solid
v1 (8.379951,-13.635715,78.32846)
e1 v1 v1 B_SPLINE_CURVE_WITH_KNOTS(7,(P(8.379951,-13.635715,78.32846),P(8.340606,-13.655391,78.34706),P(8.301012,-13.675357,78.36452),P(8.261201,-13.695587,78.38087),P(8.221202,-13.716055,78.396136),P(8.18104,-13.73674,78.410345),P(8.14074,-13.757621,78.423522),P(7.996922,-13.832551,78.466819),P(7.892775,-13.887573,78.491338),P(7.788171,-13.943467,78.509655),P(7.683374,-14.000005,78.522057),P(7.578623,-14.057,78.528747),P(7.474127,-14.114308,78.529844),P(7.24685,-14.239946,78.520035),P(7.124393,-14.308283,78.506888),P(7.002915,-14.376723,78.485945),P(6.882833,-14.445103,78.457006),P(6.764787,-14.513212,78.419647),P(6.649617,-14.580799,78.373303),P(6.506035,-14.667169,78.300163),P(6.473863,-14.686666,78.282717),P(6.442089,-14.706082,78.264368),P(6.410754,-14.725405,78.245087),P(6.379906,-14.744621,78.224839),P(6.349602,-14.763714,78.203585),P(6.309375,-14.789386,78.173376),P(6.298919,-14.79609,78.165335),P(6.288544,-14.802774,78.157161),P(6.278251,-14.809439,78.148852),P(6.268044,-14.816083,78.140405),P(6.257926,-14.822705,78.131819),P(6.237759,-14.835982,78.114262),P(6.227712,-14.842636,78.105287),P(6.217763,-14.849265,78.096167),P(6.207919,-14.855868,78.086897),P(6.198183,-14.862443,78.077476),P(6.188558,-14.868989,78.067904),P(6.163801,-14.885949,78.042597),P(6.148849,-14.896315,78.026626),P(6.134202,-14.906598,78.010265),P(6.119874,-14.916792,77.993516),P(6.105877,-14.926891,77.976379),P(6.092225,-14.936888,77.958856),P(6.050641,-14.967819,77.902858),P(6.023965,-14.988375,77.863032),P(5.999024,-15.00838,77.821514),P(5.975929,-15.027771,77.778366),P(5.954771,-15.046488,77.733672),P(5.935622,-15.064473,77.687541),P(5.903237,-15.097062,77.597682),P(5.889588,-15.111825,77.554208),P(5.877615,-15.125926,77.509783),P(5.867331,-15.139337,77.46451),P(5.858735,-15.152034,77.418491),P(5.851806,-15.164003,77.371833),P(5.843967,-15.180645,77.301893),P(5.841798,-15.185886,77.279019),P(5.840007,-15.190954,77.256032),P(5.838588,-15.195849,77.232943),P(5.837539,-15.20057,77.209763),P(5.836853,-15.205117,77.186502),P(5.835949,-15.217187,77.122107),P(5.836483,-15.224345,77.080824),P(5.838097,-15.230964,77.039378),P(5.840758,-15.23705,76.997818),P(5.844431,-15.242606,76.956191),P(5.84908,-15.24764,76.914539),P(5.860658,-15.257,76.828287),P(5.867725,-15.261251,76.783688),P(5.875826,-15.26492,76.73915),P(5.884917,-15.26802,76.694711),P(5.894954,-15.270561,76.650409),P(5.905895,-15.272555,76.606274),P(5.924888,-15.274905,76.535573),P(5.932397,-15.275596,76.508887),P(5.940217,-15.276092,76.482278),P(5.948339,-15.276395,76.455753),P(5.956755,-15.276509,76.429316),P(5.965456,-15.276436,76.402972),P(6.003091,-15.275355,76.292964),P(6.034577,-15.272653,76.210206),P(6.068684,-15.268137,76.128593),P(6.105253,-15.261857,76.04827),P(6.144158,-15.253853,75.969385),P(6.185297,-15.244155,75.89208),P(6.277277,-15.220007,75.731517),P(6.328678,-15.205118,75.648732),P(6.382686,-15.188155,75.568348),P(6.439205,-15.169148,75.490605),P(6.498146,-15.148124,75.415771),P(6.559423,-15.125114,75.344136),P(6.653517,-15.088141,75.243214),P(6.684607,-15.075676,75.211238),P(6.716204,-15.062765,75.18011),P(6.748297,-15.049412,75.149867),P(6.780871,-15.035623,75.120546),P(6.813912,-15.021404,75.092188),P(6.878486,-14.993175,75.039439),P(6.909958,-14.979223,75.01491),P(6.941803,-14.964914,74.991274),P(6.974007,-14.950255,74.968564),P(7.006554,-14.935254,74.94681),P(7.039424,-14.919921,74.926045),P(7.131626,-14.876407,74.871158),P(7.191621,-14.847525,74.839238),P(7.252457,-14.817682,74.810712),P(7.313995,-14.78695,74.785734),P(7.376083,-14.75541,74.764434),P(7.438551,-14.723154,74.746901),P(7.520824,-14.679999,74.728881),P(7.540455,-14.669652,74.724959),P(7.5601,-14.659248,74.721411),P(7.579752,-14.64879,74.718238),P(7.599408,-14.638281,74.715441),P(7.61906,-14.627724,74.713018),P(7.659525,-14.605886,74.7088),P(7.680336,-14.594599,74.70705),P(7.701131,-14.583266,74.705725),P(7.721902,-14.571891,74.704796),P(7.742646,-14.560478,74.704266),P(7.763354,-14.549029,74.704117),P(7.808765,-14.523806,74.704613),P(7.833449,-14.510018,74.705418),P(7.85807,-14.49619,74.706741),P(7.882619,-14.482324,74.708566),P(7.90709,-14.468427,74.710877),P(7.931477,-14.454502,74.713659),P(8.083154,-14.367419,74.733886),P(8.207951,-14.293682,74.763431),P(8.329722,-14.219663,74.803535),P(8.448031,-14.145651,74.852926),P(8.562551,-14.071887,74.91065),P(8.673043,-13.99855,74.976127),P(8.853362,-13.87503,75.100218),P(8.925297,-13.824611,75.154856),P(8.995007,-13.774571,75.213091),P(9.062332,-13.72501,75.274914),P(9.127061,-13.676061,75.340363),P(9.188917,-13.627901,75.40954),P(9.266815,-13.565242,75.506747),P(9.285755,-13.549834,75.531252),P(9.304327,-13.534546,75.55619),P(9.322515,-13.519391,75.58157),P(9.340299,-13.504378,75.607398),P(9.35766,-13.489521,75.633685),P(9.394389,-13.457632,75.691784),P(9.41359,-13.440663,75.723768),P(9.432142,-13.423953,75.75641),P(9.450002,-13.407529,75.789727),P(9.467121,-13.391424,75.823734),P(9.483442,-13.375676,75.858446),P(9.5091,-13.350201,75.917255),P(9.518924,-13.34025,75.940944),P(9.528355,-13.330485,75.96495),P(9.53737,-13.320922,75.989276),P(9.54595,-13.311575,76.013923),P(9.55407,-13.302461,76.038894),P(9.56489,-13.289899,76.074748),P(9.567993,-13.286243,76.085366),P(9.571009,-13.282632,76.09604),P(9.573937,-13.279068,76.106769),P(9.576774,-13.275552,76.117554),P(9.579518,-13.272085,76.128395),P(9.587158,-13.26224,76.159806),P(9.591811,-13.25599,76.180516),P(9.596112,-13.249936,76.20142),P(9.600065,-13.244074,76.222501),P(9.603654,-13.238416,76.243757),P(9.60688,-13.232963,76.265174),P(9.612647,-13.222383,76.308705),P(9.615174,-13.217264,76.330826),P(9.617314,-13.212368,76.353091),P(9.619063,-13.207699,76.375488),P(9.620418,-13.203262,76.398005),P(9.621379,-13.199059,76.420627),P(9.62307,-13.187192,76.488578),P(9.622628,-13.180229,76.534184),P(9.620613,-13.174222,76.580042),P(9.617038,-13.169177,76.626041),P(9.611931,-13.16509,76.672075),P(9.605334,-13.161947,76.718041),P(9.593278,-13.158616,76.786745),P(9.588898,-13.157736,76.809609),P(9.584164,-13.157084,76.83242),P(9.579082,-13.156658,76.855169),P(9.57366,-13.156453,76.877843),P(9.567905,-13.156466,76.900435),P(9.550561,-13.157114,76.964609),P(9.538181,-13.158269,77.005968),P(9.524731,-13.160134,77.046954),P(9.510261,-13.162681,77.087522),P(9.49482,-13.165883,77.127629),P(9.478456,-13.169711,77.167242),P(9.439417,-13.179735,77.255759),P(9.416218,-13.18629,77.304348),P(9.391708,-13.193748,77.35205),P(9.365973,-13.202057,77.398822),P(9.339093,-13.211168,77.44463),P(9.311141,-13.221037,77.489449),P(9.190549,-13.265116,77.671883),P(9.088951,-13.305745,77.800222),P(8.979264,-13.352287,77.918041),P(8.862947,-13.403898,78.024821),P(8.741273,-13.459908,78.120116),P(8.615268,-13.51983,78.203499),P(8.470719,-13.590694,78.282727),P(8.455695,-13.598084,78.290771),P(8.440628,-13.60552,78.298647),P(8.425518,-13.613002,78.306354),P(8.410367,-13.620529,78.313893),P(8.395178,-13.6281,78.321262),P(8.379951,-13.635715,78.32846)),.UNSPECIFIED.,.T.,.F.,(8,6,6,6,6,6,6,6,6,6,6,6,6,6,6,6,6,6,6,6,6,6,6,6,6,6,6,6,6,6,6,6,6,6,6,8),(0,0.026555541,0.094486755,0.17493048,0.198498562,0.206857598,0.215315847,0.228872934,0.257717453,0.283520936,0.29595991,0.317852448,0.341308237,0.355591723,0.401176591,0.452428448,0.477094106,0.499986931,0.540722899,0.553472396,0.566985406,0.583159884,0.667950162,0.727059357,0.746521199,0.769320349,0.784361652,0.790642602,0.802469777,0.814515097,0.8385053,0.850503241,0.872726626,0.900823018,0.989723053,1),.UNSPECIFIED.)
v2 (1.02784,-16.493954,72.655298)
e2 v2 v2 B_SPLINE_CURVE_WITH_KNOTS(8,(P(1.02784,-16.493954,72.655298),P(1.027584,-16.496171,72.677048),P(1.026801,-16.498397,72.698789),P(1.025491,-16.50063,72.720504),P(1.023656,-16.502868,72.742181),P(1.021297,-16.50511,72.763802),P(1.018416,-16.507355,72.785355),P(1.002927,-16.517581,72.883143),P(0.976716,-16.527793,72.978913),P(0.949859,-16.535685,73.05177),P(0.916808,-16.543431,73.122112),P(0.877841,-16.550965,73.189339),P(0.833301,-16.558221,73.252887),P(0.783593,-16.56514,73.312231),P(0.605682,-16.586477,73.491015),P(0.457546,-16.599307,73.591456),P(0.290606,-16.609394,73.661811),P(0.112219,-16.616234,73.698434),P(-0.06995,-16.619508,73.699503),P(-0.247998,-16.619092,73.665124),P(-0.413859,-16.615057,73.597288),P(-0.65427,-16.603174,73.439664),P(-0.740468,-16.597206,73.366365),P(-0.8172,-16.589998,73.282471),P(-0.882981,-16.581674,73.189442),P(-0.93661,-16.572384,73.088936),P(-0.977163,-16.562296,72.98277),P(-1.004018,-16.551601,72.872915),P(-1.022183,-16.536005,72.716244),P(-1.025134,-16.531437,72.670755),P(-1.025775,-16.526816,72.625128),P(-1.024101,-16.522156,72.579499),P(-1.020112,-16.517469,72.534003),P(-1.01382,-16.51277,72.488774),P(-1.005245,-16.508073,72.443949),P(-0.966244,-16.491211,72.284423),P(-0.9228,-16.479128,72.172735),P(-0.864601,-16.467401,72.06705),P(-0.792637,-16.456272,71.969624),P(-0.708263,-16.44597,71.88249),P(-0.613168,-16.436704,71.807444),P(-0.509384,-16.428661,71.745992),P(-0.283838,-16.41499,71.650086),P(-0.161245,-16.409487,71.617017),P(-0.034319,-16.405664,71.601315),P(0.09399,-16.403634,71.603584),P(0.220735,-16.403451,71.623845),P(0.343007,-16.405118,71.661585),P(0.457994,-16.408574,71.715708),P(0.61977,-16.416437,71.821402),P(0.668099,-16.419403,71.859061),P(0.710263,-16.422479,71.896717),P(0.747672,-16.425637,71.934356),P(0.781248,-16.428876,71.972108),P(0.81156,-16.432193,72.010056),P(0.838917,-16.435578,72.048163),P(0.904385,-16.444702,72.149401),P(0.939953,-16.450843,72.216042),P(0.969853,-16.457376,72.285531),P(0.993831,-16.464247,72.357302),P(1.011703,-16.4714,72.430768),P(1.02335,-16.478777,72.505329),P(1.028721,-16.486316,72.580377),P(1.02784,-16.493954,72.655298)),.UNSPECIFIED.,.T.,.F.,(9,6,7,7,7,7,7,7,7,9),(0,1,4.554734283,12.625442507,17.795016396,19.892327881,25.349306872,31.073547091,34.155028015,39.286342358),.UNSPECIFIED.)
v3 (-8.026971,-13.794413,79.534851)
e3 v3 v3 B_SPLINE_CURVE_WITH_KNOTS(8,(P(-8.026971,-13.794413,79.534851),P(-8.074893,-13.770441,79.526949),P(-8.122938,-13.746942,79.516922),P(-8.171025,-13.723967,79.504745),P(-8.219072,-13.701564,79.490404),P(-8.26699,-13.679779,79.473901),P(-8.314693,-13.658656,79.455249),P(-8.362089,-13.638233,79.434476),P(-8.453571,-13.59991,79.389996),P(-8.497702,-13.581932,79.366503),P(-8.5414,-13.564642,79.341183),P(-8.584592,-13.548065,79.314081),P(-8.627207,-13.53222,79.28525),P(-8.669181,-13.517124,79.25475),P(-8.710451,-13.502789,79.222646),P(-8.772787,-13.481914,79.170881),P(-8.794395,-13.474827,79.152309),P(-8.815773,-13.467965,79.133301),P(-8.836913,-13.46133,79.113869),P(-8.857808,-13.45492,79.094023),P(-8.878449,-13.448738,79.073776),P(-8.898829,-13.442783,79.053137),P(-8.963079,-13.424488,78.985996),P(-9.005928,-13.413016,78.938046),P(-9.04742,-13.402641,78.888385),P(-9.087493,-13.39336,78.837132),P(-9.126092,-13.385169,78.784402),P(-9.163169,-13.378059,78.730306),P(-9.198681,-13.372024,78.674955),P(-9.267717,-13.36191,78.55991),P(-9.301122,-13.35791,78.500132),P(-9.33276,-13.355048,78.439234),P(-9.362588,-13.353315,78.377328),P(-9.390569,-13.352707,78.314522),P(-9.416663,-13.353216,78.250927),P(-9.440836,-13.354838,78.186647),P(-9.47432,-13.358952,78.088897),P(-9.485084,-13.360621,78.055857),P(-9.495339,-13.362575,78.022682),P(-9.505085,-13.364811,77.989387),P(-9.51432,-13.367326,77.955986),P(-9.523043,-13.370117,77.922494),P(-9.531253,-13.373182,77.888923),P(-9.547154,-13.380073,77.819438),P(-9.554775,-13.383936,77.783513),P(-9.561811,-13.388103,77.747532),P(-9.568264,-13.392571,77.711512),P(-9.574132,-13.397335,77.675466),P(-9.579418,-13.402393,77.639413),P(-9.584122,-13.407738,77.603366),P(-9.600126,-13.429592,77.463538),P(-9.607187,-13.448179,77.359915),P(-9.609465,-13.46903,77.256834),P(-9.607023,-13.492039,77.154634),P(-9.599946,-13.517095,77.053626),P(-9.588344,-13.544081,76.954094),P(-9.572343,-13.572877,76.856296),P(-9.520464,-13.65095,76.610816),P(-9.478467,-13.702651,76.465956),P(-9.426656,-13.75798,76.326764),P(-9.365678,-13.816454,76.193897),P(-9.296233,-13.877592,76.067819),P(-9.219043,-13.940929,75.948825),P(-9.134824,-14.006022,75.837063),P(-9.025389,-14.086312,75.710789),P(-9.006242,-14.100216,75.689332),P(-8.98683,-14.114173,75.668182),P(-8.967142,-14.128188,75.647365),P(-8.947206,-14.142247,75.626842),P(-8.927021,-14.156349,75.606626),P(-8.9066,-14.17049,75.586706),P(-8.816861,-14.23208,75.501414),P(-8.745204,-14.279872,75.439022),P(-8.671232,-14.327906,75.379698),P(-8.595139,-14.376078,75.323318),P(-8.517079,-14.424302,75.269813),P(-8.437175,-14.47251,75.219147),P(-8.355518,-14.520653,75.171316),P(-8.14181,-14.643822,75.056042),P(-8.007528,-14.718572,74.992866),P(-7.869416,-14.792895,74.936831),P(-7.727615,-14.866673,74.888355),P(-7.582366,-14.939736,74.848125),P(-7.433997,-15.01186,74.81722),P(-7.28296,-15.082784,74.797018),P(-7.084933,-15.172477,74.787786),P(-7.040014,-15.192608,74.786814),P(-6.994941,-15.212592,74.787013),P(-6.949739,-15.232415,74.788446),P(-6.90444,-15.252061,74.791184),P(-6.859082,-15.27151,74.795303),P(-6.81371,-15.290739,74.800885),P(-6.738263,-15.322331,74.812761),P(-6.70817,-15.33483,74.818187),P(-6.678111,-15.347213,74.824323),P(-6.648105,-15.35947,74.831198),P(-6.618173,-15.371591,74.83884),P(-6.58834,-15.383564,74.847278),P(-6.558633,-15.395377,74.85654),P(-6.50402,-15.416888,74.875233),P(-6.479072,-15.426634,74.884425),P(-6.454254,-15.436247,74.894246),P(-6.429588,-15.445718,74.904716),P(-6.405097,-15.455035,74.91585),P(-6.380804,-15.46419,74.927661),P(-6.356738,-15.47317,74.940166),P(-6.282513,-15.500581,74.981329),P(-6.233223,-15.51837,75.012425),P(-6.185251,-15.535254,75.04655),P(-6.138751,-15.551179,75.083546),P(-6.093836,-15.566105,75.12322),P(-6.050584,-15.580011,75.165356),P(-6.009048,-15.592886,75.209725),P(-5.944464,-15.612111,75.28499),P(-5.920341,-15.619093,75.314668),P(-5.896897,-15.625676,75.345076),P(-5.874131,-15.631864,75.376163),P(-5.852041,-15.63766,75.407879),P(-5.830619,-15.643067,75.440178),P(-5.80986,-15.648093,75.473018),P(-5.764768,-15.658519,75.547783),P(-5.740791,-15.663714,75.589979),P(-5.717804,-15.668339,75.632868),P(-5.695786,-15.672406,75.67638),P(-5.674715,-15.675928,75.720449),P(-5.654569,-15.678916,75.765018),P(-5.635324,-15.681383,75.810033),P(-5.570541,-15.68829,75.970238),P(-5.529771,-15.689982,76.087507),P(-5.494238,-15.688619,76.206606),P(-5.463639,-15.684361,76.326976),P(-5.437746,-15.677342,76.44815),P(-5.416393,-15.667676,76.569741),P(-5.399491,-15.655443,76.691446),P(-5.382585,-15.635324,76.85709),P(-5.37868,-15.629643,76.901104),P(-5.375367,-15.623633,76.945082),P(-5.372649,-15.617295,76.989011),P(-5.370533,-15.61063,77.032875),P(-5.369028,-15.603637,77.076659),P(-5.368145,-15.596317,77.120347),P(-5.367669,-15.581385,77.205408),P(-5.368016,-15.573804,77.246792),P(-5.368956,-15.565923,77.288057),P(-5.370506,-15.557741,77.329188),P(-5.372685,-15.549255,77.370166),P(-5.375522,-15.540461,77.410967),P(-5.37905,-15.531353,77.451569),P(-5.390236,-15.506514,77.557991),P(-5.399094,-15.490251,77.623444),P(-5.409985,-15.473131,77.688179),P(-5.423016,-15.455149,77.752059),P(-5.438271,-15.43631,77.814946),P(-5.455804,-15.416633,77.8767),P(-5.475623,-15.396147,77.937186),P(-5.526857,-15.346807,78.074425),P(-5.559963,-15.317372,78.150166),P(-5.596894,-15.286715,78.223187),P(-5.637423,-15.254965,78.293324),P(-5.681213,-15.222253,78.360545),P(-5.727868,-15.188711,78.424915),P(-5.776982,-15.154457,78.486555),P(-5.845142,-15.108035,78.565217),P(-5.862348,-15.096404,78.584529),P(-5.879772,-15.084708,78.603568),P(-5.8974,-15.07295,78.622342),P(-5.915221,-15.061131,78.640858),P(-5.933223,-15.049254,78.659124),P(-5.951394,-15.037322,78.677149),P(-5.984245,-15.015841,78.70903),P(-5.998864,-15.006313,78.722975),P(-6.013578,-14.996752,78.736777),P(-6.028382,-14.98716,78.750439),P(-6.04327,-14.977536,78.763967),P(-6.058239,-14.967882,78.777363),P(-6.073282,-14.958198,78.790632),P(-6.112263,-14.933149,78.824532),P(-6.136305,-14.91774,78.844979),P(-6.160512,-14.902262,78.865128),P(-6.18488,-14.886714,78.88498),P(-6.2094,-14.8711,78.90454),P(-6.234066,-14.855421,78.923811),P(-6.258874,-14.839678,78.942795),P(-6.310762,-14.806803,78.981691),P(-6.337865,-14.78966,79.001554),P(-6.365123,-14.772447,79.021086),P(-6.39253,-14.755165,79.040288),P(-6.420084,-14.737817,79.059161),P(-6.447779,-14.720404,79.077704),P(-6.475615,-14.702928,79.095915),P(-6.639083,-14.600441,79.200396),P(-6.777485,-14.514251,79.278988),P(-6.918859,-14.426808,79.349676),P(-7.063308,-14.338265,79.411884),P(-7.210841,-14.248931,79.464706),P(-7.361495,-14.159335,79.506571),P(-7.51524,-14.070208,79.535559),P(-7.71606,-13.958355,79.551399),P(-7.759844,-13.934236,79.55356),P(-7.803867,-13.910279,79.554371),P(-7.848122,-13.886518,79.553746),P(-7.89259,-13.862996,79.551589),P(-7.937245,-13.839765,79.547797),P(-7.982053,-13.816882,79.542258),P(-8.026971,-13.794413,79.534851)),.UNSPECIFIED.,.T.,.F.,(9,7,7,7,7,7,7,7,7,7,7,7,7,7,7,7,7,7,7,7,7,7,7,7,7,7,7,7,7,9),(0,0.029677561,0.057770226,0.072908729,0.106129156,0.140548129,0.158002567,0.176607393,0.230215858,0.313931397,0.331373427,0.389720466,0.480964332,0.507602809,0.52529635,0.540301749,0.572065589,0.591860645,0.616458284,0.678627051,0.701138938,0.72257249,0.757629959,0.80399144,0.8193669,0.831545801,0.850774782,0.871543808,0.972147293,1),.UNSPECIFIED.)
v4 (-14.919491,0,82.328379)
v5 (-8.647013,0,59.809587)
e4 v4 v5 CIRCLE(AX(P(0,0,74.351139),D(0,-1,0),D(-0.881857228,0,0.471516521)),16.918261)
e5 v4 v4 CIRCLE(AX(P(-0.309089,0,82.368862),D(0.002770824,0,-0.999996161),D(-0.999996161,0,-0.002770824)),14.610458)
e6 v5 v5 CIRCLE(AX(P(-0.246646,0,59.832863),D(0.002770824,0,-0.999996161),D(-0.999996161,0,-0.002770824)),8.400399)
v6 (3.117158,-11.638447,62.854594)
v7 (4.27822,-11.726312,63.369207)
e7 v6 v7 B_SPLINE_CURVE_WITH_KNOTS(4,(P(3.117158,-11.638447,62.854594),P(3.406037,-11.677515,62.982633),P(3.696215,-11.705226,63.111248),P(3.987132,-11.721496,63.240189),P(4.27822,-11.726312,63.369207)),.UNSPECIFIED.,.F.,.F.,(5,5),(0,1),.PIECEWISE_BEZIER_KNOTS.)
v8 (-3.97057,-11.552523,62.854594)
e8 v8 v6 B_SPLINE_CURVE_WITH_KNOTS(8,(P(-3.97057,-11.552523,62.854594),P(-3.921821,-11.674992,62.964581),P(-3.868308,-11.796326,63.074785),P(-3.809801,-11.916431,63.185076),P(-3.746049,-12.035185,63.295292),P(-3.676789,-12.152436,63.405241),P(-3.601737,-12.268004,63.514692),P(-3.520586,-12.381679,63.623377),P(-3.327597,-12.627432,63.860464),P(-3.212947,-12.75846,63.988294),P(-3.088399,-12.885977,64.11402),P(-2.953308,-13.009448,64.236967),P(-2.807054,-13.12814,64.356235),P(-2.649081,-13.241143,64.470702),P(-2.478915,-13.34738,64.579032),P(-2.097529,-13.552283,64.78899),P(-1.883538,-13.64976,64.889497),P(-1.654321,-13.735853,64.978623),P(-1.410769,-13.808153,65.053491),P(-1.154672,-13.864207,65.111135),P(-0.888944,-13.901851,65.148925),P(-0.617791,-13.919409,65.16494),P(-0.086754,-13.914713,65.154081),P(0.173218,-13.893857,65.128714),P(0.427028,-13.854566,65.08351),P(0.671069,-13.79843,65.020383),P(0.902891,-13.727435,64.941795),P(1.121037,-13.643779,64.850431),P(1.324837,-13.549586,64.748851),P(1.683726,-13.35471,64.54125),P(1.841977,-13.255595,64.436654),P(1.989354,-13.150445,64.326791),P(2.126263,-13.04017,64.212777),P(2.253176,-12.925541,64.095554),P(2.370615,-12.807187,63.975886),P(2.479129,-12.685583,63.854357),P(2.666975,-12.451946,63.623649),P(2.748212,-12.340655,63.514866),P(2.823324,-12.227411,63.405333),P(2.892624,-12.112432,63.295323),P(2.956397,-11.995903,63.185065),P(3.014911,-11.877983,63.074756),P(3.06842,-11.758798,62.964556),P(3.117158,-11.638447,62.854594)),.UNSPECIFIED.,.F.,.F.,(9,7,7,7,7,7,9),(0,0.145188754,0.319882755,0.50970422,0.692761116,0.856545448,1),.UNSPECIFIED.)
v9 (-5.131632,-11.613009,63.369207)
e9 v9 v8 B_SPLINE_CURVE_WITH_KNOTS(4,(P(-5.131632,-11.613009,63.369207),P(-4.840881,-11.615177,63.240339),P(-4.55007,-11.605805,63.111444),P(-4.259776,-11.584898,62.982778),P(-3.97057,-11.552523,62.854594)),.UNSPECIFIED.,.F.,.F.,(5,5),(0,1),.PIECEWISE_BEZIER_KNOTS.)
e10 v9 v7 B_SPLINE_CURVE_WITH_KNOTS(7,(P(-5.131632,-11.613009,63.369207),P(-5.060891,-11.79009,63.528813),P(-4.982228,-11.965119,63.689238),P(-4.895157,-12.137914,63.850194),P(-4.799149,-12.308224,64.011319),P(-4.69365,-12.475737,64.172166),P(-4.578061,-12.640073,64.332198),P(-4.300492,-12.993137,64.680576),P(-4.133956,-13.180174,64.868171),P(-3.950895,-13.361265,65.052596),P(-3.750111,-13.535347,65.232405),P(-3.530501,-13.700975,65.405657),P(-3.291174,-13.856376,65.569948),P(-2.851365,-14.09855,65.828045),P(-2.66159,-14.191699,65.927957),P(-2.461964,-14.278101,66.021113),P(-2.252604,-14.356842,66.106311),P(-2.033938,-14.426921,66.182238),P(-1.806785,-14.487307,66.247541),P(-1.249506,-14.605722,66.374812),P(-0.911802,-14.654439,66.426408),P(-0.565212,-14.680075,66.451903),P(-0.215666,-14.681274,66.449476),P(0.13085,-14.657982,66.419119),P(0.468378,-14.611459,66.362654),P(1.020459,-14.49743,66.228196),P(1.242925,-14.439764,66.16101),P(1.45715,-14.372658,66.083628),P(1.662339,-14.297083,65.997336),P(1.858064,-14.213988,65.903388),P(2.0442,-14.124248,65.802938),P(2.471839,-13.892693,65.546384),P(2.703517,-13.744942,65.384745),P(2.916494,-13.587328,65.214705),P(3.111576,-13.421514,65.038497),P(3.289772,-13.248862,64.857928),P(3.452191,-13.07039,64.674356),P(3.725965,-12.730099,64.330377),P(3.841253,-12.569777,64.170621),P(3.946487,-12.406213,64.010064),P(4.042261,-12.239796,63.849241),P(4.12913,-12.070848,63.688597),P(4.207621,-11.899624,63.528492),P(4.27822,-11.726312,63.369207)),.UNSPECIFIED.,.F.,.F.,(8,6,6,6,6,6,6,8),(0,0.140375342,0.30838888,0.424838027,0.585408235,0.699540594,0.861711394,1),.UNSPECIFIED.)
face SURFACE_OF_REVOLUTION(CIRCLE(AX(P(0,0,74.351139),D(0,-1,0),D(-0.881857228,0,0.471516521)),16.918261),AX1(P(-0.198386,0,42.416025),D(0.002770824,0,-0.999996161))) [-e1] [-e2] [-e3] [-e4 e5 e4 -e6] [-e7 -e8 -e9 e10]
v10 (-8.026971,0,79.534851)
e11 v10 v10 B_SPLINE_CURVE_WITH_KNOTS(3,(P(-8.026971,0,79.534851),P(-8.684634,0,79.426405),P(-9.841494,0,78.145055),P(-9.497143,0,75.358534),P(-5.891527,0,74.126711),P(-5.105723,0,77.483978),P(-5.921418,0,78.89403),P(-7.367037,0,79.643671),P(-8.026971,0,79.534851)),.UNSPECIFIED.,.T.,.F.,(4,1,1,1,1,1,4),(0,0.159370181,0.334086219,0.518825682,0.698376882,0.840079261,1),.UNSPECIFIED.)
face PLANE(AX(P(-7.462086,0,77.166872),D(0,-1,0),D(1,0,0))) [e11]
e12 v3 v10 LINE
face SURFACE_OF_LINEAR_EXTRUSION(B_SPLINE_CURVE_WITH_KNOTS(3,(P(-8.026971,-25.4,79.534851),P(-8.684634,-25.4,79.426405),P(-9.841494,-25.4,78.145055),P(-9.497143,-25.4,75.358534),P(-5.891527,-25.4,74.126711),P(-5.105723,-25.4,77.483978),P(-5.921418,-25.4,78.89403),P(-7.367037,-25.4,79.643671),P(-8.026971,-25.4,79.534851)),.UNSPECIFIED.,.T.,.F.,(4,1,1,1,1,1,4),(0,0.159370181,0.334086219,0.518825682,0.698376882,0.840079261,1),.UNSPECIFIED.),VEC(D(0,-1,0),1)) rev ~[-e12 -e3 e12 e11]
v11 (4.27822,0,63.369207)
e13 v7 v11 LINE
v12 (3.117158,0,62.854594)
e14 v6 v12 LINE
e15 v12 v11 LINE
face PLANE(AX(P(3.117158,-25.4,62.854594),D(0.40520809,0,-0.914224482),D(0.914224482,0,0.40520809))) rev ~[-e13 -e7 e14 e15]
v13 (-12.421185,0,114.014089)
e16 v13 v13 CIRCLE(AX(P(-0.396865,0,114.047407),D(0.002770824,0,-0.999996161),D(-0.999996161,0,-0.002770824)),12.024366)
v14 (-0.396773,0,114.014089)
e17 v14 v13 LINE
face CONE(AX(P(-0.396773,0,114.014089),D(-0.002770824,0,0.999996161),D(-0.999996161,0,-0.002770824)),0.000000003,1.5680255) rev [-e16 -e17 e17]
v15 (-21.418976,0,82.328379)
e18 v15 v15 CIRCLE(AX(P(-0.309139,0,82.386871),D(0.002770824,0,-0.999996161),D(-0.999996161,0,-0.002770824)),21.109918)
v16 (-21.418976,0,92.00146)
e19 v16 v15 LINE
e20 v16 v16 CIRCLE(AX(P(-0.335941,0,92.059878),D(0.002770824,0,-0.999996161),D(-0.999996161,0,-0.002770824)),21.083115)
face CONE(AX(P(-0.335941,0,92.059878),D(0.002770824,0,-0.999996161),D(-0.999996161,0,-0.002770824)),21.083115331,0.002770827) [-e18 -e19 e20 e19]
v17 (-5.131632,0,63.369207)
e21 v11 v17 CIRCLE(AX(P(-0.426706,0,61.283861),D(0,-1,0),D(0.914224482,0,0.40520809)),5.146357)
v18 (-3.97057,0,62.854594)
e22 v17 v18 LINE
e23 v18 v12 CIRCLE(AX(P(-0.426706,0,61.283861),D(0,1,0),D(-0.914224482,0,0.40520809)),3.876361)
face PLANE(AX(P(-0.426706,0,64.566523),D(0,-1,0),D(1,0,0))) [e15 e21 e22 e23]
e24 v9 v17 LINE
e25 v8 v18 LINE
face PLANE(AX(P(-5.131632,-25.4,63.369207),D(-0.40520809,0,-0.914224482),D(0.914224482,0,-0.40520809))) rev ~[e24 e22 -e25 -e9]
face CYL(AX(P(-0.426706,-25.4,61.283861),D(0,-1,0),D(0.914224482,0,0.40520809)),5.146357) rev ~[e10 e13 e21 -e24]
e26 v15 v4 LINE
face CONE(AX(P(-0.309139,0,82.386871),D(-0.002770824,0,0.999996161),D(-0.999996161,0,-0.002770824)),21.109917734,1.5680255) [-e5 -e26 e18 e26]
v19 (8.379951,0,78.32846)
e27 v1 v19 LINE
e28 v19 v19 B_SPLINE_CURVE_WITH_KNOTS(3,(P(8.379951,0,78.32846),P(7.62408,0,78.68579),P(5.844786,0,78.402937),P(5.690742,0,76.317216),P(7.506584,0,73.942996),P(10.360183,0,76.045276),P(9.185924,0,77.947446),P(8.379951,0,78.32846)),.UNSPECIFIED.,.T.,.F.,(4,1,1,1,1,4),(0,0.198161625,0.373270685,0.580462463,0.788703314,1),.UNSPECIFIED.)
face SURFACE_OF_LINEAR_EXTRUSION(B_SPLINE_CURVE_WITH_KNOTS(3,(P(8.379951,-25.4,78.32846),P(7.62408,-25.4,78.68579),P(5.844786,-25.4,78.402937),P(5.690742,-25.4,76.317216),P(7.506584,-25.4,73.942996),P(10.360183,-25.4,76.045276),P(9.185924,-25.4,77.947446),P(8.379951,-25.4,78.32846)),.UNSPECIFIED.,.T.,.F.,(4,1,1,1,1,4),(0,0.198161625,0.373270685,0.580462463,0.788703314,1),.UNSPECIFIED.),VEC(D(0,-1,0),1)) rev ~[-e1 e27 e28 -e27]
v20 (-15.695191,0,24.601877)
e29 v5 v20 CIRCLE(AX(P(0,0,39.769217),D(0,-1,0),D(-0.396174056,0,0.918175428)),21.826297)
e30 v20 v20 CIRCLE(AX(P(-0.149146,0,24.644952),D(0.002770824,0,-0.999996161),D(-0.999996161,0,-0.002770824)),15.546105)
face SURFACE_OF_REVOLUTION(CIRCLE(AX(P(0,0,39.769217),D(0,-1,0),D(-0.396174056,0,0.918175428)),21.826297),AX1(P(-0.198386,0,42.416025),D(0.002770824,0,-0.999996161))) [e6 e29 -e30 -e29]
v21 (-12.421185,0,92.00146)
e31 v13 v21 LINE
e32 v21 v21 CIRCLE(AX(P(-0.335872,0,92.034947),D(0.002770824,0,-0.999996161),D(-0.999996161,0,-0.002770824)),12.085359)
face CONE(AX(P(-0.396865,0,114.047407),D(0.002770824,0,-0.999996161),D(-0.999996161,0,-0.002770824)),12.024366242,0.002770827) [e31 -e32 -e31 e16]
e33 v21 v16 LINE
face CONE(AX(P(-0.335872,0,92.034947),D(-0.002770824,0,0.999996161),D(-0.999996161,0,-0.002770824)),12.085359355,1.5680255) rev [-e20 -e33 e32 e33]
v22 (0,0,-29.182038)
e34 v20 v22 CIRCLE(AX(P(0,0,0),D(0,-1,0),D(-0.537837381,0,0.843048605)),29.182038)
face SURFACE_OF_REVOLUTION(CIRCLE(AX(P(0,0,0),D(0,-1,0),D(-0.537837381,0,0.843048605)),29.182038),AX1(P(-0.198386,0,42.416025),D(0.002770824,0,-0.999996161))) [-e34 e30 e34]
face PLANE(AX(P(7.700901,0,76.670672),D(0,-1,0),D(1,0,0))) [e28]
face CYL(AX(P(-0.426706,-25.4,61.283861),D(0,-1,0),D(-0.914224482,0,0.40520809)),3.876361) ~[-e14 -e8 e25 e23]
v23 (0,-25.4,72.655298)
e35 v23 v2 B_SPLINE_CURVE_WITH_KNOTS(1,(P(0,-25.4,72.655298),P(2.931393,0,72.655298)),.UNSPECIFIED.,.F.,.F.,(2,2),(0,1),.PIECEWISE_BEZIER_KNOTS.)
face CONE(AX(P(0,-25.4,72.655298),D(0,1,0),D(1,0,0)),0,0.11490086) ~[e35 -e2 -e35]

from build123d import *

# Parameters (mm, degrees)
F4_R     = 2.9313934917
F6_DEPTH = 25.4


with BuildPart() as f1:
    # F0 (on Front) → F1 (revolve)
    with BuildSketch(Plane.XZ):
        with BuildLine():
            ThreePointArc((-8.6470126601, 59.8095870837), (-21.4016690603, 44.0535851857), (-15.695191047, 24.6018766648))
            ThreePointArc((-15.695191047, 24.6018766648), (-28.0136061915, -8.1749144079), (0, -29.1820382673))
            Line((0, -29.1820382673), (-0.3967727534, 114.0140891075))
            Line((-0.3967727534, 114.0140891075), (-12.4211851507, 114.0140891075))
            Line((-12.4211851507, 114.0140891075), (-12.4211851507, 92.0014604926))
            Line((-12.4211851507, 92.0014604926), (-21.4189756662, 92.0014604926))
            Line((-21.4189756662, 92.0014604926), (-21.4189756662, 82.3283791542))
            Line((-21.4189756662, 82.3283791542), (-14.9194911479, 82.3283791542))
            ThreePointArc((-14.9194911479, 82.3283791542), (-16.2978226924, 69.8114756975), (-8.6470126601, 59.8095870837))
        make_face()
    revolve(axis=Axis((-0.1983863767, 0, 42.4160254201), (0.0027708237, 0, -0.9999961613)))

    # F4 (on Front) → F5 section 0
    with BuildSketch(Plane.XZ, mode=Mode.PRIVATE) as f5_s0:
        with Locations((0, 72.6552978158)):
            Circle(F4_R)
    loft([Vertex(0, -25.4, 72.6552978158), f5_s0.sketch])

    # F3 (on offset) → F6 (cut)
    with BuildSketch(Plane.XZ.offset(25.4)):
        with BuildLine():
            add(Edge.make_bspline(
                [(-8.0269714817, 79.5348510146), (-8.6846337437, 79.4264052352), (-9.8414942897, 78.1450545351), (-9.497142748, 75.3585343357), (-5.8915269462, 74.1267113958), (-5.1057227017, 77.4839777864), (-5.9214182567, 78.8940297376), (-7.3670372691, 79.6436714293), (-8.0269714817, 79.5348510146)],
                knots=[0, 0, 0, 0, 0.1593701812, 0.3340862186, 0.5188256822, 0.6983768822, 0.8400792609, 1, 1, 1, 1], degree=3))
        make_face()
        with BuildLine():
            add(Edge.make_bspline(
                [(8.3799511194, 78.3284604549), (7.624080444, 78.6857899226), (5.8447857804, 78.4029369239), (5.6907424207, 76.3172160457), (7.506583602, 73.9429964977), (10.3601830594, 76.0452757725), (9.1859243667, 77.9474455529), (8.3799511194, 78.3284604549)],
                knots=[0, 0, 0, 0, 0.1981616253, 0.3732706853, 0.5804624626, 0.7887033142, 1, 1, 1, 1], degree=3))
        make_face()
        with BuildLine():
            Line((3.1171578952, 62.8545942359), (4.2782197706, 63.3692070842))
            ThreePointArc((4.2782197706, 63.3692070842), (-0.4267061595, 66.4302188327), (-5.1316320896, 63.3692070842))
            Line((-5.1316320896, 63.3692070842), (-3.9705702142, 62.8545942359))
            ThreePointArc((-3.9705702142, 62.8545942359), (-0.4267061595, 65.1602223516), (3.1171578952, 62.8545942359))
        make_face()
    extrude(amount=-F6_DEPTH, mode=Mode.SUBTRACT)


solid = f1.part
